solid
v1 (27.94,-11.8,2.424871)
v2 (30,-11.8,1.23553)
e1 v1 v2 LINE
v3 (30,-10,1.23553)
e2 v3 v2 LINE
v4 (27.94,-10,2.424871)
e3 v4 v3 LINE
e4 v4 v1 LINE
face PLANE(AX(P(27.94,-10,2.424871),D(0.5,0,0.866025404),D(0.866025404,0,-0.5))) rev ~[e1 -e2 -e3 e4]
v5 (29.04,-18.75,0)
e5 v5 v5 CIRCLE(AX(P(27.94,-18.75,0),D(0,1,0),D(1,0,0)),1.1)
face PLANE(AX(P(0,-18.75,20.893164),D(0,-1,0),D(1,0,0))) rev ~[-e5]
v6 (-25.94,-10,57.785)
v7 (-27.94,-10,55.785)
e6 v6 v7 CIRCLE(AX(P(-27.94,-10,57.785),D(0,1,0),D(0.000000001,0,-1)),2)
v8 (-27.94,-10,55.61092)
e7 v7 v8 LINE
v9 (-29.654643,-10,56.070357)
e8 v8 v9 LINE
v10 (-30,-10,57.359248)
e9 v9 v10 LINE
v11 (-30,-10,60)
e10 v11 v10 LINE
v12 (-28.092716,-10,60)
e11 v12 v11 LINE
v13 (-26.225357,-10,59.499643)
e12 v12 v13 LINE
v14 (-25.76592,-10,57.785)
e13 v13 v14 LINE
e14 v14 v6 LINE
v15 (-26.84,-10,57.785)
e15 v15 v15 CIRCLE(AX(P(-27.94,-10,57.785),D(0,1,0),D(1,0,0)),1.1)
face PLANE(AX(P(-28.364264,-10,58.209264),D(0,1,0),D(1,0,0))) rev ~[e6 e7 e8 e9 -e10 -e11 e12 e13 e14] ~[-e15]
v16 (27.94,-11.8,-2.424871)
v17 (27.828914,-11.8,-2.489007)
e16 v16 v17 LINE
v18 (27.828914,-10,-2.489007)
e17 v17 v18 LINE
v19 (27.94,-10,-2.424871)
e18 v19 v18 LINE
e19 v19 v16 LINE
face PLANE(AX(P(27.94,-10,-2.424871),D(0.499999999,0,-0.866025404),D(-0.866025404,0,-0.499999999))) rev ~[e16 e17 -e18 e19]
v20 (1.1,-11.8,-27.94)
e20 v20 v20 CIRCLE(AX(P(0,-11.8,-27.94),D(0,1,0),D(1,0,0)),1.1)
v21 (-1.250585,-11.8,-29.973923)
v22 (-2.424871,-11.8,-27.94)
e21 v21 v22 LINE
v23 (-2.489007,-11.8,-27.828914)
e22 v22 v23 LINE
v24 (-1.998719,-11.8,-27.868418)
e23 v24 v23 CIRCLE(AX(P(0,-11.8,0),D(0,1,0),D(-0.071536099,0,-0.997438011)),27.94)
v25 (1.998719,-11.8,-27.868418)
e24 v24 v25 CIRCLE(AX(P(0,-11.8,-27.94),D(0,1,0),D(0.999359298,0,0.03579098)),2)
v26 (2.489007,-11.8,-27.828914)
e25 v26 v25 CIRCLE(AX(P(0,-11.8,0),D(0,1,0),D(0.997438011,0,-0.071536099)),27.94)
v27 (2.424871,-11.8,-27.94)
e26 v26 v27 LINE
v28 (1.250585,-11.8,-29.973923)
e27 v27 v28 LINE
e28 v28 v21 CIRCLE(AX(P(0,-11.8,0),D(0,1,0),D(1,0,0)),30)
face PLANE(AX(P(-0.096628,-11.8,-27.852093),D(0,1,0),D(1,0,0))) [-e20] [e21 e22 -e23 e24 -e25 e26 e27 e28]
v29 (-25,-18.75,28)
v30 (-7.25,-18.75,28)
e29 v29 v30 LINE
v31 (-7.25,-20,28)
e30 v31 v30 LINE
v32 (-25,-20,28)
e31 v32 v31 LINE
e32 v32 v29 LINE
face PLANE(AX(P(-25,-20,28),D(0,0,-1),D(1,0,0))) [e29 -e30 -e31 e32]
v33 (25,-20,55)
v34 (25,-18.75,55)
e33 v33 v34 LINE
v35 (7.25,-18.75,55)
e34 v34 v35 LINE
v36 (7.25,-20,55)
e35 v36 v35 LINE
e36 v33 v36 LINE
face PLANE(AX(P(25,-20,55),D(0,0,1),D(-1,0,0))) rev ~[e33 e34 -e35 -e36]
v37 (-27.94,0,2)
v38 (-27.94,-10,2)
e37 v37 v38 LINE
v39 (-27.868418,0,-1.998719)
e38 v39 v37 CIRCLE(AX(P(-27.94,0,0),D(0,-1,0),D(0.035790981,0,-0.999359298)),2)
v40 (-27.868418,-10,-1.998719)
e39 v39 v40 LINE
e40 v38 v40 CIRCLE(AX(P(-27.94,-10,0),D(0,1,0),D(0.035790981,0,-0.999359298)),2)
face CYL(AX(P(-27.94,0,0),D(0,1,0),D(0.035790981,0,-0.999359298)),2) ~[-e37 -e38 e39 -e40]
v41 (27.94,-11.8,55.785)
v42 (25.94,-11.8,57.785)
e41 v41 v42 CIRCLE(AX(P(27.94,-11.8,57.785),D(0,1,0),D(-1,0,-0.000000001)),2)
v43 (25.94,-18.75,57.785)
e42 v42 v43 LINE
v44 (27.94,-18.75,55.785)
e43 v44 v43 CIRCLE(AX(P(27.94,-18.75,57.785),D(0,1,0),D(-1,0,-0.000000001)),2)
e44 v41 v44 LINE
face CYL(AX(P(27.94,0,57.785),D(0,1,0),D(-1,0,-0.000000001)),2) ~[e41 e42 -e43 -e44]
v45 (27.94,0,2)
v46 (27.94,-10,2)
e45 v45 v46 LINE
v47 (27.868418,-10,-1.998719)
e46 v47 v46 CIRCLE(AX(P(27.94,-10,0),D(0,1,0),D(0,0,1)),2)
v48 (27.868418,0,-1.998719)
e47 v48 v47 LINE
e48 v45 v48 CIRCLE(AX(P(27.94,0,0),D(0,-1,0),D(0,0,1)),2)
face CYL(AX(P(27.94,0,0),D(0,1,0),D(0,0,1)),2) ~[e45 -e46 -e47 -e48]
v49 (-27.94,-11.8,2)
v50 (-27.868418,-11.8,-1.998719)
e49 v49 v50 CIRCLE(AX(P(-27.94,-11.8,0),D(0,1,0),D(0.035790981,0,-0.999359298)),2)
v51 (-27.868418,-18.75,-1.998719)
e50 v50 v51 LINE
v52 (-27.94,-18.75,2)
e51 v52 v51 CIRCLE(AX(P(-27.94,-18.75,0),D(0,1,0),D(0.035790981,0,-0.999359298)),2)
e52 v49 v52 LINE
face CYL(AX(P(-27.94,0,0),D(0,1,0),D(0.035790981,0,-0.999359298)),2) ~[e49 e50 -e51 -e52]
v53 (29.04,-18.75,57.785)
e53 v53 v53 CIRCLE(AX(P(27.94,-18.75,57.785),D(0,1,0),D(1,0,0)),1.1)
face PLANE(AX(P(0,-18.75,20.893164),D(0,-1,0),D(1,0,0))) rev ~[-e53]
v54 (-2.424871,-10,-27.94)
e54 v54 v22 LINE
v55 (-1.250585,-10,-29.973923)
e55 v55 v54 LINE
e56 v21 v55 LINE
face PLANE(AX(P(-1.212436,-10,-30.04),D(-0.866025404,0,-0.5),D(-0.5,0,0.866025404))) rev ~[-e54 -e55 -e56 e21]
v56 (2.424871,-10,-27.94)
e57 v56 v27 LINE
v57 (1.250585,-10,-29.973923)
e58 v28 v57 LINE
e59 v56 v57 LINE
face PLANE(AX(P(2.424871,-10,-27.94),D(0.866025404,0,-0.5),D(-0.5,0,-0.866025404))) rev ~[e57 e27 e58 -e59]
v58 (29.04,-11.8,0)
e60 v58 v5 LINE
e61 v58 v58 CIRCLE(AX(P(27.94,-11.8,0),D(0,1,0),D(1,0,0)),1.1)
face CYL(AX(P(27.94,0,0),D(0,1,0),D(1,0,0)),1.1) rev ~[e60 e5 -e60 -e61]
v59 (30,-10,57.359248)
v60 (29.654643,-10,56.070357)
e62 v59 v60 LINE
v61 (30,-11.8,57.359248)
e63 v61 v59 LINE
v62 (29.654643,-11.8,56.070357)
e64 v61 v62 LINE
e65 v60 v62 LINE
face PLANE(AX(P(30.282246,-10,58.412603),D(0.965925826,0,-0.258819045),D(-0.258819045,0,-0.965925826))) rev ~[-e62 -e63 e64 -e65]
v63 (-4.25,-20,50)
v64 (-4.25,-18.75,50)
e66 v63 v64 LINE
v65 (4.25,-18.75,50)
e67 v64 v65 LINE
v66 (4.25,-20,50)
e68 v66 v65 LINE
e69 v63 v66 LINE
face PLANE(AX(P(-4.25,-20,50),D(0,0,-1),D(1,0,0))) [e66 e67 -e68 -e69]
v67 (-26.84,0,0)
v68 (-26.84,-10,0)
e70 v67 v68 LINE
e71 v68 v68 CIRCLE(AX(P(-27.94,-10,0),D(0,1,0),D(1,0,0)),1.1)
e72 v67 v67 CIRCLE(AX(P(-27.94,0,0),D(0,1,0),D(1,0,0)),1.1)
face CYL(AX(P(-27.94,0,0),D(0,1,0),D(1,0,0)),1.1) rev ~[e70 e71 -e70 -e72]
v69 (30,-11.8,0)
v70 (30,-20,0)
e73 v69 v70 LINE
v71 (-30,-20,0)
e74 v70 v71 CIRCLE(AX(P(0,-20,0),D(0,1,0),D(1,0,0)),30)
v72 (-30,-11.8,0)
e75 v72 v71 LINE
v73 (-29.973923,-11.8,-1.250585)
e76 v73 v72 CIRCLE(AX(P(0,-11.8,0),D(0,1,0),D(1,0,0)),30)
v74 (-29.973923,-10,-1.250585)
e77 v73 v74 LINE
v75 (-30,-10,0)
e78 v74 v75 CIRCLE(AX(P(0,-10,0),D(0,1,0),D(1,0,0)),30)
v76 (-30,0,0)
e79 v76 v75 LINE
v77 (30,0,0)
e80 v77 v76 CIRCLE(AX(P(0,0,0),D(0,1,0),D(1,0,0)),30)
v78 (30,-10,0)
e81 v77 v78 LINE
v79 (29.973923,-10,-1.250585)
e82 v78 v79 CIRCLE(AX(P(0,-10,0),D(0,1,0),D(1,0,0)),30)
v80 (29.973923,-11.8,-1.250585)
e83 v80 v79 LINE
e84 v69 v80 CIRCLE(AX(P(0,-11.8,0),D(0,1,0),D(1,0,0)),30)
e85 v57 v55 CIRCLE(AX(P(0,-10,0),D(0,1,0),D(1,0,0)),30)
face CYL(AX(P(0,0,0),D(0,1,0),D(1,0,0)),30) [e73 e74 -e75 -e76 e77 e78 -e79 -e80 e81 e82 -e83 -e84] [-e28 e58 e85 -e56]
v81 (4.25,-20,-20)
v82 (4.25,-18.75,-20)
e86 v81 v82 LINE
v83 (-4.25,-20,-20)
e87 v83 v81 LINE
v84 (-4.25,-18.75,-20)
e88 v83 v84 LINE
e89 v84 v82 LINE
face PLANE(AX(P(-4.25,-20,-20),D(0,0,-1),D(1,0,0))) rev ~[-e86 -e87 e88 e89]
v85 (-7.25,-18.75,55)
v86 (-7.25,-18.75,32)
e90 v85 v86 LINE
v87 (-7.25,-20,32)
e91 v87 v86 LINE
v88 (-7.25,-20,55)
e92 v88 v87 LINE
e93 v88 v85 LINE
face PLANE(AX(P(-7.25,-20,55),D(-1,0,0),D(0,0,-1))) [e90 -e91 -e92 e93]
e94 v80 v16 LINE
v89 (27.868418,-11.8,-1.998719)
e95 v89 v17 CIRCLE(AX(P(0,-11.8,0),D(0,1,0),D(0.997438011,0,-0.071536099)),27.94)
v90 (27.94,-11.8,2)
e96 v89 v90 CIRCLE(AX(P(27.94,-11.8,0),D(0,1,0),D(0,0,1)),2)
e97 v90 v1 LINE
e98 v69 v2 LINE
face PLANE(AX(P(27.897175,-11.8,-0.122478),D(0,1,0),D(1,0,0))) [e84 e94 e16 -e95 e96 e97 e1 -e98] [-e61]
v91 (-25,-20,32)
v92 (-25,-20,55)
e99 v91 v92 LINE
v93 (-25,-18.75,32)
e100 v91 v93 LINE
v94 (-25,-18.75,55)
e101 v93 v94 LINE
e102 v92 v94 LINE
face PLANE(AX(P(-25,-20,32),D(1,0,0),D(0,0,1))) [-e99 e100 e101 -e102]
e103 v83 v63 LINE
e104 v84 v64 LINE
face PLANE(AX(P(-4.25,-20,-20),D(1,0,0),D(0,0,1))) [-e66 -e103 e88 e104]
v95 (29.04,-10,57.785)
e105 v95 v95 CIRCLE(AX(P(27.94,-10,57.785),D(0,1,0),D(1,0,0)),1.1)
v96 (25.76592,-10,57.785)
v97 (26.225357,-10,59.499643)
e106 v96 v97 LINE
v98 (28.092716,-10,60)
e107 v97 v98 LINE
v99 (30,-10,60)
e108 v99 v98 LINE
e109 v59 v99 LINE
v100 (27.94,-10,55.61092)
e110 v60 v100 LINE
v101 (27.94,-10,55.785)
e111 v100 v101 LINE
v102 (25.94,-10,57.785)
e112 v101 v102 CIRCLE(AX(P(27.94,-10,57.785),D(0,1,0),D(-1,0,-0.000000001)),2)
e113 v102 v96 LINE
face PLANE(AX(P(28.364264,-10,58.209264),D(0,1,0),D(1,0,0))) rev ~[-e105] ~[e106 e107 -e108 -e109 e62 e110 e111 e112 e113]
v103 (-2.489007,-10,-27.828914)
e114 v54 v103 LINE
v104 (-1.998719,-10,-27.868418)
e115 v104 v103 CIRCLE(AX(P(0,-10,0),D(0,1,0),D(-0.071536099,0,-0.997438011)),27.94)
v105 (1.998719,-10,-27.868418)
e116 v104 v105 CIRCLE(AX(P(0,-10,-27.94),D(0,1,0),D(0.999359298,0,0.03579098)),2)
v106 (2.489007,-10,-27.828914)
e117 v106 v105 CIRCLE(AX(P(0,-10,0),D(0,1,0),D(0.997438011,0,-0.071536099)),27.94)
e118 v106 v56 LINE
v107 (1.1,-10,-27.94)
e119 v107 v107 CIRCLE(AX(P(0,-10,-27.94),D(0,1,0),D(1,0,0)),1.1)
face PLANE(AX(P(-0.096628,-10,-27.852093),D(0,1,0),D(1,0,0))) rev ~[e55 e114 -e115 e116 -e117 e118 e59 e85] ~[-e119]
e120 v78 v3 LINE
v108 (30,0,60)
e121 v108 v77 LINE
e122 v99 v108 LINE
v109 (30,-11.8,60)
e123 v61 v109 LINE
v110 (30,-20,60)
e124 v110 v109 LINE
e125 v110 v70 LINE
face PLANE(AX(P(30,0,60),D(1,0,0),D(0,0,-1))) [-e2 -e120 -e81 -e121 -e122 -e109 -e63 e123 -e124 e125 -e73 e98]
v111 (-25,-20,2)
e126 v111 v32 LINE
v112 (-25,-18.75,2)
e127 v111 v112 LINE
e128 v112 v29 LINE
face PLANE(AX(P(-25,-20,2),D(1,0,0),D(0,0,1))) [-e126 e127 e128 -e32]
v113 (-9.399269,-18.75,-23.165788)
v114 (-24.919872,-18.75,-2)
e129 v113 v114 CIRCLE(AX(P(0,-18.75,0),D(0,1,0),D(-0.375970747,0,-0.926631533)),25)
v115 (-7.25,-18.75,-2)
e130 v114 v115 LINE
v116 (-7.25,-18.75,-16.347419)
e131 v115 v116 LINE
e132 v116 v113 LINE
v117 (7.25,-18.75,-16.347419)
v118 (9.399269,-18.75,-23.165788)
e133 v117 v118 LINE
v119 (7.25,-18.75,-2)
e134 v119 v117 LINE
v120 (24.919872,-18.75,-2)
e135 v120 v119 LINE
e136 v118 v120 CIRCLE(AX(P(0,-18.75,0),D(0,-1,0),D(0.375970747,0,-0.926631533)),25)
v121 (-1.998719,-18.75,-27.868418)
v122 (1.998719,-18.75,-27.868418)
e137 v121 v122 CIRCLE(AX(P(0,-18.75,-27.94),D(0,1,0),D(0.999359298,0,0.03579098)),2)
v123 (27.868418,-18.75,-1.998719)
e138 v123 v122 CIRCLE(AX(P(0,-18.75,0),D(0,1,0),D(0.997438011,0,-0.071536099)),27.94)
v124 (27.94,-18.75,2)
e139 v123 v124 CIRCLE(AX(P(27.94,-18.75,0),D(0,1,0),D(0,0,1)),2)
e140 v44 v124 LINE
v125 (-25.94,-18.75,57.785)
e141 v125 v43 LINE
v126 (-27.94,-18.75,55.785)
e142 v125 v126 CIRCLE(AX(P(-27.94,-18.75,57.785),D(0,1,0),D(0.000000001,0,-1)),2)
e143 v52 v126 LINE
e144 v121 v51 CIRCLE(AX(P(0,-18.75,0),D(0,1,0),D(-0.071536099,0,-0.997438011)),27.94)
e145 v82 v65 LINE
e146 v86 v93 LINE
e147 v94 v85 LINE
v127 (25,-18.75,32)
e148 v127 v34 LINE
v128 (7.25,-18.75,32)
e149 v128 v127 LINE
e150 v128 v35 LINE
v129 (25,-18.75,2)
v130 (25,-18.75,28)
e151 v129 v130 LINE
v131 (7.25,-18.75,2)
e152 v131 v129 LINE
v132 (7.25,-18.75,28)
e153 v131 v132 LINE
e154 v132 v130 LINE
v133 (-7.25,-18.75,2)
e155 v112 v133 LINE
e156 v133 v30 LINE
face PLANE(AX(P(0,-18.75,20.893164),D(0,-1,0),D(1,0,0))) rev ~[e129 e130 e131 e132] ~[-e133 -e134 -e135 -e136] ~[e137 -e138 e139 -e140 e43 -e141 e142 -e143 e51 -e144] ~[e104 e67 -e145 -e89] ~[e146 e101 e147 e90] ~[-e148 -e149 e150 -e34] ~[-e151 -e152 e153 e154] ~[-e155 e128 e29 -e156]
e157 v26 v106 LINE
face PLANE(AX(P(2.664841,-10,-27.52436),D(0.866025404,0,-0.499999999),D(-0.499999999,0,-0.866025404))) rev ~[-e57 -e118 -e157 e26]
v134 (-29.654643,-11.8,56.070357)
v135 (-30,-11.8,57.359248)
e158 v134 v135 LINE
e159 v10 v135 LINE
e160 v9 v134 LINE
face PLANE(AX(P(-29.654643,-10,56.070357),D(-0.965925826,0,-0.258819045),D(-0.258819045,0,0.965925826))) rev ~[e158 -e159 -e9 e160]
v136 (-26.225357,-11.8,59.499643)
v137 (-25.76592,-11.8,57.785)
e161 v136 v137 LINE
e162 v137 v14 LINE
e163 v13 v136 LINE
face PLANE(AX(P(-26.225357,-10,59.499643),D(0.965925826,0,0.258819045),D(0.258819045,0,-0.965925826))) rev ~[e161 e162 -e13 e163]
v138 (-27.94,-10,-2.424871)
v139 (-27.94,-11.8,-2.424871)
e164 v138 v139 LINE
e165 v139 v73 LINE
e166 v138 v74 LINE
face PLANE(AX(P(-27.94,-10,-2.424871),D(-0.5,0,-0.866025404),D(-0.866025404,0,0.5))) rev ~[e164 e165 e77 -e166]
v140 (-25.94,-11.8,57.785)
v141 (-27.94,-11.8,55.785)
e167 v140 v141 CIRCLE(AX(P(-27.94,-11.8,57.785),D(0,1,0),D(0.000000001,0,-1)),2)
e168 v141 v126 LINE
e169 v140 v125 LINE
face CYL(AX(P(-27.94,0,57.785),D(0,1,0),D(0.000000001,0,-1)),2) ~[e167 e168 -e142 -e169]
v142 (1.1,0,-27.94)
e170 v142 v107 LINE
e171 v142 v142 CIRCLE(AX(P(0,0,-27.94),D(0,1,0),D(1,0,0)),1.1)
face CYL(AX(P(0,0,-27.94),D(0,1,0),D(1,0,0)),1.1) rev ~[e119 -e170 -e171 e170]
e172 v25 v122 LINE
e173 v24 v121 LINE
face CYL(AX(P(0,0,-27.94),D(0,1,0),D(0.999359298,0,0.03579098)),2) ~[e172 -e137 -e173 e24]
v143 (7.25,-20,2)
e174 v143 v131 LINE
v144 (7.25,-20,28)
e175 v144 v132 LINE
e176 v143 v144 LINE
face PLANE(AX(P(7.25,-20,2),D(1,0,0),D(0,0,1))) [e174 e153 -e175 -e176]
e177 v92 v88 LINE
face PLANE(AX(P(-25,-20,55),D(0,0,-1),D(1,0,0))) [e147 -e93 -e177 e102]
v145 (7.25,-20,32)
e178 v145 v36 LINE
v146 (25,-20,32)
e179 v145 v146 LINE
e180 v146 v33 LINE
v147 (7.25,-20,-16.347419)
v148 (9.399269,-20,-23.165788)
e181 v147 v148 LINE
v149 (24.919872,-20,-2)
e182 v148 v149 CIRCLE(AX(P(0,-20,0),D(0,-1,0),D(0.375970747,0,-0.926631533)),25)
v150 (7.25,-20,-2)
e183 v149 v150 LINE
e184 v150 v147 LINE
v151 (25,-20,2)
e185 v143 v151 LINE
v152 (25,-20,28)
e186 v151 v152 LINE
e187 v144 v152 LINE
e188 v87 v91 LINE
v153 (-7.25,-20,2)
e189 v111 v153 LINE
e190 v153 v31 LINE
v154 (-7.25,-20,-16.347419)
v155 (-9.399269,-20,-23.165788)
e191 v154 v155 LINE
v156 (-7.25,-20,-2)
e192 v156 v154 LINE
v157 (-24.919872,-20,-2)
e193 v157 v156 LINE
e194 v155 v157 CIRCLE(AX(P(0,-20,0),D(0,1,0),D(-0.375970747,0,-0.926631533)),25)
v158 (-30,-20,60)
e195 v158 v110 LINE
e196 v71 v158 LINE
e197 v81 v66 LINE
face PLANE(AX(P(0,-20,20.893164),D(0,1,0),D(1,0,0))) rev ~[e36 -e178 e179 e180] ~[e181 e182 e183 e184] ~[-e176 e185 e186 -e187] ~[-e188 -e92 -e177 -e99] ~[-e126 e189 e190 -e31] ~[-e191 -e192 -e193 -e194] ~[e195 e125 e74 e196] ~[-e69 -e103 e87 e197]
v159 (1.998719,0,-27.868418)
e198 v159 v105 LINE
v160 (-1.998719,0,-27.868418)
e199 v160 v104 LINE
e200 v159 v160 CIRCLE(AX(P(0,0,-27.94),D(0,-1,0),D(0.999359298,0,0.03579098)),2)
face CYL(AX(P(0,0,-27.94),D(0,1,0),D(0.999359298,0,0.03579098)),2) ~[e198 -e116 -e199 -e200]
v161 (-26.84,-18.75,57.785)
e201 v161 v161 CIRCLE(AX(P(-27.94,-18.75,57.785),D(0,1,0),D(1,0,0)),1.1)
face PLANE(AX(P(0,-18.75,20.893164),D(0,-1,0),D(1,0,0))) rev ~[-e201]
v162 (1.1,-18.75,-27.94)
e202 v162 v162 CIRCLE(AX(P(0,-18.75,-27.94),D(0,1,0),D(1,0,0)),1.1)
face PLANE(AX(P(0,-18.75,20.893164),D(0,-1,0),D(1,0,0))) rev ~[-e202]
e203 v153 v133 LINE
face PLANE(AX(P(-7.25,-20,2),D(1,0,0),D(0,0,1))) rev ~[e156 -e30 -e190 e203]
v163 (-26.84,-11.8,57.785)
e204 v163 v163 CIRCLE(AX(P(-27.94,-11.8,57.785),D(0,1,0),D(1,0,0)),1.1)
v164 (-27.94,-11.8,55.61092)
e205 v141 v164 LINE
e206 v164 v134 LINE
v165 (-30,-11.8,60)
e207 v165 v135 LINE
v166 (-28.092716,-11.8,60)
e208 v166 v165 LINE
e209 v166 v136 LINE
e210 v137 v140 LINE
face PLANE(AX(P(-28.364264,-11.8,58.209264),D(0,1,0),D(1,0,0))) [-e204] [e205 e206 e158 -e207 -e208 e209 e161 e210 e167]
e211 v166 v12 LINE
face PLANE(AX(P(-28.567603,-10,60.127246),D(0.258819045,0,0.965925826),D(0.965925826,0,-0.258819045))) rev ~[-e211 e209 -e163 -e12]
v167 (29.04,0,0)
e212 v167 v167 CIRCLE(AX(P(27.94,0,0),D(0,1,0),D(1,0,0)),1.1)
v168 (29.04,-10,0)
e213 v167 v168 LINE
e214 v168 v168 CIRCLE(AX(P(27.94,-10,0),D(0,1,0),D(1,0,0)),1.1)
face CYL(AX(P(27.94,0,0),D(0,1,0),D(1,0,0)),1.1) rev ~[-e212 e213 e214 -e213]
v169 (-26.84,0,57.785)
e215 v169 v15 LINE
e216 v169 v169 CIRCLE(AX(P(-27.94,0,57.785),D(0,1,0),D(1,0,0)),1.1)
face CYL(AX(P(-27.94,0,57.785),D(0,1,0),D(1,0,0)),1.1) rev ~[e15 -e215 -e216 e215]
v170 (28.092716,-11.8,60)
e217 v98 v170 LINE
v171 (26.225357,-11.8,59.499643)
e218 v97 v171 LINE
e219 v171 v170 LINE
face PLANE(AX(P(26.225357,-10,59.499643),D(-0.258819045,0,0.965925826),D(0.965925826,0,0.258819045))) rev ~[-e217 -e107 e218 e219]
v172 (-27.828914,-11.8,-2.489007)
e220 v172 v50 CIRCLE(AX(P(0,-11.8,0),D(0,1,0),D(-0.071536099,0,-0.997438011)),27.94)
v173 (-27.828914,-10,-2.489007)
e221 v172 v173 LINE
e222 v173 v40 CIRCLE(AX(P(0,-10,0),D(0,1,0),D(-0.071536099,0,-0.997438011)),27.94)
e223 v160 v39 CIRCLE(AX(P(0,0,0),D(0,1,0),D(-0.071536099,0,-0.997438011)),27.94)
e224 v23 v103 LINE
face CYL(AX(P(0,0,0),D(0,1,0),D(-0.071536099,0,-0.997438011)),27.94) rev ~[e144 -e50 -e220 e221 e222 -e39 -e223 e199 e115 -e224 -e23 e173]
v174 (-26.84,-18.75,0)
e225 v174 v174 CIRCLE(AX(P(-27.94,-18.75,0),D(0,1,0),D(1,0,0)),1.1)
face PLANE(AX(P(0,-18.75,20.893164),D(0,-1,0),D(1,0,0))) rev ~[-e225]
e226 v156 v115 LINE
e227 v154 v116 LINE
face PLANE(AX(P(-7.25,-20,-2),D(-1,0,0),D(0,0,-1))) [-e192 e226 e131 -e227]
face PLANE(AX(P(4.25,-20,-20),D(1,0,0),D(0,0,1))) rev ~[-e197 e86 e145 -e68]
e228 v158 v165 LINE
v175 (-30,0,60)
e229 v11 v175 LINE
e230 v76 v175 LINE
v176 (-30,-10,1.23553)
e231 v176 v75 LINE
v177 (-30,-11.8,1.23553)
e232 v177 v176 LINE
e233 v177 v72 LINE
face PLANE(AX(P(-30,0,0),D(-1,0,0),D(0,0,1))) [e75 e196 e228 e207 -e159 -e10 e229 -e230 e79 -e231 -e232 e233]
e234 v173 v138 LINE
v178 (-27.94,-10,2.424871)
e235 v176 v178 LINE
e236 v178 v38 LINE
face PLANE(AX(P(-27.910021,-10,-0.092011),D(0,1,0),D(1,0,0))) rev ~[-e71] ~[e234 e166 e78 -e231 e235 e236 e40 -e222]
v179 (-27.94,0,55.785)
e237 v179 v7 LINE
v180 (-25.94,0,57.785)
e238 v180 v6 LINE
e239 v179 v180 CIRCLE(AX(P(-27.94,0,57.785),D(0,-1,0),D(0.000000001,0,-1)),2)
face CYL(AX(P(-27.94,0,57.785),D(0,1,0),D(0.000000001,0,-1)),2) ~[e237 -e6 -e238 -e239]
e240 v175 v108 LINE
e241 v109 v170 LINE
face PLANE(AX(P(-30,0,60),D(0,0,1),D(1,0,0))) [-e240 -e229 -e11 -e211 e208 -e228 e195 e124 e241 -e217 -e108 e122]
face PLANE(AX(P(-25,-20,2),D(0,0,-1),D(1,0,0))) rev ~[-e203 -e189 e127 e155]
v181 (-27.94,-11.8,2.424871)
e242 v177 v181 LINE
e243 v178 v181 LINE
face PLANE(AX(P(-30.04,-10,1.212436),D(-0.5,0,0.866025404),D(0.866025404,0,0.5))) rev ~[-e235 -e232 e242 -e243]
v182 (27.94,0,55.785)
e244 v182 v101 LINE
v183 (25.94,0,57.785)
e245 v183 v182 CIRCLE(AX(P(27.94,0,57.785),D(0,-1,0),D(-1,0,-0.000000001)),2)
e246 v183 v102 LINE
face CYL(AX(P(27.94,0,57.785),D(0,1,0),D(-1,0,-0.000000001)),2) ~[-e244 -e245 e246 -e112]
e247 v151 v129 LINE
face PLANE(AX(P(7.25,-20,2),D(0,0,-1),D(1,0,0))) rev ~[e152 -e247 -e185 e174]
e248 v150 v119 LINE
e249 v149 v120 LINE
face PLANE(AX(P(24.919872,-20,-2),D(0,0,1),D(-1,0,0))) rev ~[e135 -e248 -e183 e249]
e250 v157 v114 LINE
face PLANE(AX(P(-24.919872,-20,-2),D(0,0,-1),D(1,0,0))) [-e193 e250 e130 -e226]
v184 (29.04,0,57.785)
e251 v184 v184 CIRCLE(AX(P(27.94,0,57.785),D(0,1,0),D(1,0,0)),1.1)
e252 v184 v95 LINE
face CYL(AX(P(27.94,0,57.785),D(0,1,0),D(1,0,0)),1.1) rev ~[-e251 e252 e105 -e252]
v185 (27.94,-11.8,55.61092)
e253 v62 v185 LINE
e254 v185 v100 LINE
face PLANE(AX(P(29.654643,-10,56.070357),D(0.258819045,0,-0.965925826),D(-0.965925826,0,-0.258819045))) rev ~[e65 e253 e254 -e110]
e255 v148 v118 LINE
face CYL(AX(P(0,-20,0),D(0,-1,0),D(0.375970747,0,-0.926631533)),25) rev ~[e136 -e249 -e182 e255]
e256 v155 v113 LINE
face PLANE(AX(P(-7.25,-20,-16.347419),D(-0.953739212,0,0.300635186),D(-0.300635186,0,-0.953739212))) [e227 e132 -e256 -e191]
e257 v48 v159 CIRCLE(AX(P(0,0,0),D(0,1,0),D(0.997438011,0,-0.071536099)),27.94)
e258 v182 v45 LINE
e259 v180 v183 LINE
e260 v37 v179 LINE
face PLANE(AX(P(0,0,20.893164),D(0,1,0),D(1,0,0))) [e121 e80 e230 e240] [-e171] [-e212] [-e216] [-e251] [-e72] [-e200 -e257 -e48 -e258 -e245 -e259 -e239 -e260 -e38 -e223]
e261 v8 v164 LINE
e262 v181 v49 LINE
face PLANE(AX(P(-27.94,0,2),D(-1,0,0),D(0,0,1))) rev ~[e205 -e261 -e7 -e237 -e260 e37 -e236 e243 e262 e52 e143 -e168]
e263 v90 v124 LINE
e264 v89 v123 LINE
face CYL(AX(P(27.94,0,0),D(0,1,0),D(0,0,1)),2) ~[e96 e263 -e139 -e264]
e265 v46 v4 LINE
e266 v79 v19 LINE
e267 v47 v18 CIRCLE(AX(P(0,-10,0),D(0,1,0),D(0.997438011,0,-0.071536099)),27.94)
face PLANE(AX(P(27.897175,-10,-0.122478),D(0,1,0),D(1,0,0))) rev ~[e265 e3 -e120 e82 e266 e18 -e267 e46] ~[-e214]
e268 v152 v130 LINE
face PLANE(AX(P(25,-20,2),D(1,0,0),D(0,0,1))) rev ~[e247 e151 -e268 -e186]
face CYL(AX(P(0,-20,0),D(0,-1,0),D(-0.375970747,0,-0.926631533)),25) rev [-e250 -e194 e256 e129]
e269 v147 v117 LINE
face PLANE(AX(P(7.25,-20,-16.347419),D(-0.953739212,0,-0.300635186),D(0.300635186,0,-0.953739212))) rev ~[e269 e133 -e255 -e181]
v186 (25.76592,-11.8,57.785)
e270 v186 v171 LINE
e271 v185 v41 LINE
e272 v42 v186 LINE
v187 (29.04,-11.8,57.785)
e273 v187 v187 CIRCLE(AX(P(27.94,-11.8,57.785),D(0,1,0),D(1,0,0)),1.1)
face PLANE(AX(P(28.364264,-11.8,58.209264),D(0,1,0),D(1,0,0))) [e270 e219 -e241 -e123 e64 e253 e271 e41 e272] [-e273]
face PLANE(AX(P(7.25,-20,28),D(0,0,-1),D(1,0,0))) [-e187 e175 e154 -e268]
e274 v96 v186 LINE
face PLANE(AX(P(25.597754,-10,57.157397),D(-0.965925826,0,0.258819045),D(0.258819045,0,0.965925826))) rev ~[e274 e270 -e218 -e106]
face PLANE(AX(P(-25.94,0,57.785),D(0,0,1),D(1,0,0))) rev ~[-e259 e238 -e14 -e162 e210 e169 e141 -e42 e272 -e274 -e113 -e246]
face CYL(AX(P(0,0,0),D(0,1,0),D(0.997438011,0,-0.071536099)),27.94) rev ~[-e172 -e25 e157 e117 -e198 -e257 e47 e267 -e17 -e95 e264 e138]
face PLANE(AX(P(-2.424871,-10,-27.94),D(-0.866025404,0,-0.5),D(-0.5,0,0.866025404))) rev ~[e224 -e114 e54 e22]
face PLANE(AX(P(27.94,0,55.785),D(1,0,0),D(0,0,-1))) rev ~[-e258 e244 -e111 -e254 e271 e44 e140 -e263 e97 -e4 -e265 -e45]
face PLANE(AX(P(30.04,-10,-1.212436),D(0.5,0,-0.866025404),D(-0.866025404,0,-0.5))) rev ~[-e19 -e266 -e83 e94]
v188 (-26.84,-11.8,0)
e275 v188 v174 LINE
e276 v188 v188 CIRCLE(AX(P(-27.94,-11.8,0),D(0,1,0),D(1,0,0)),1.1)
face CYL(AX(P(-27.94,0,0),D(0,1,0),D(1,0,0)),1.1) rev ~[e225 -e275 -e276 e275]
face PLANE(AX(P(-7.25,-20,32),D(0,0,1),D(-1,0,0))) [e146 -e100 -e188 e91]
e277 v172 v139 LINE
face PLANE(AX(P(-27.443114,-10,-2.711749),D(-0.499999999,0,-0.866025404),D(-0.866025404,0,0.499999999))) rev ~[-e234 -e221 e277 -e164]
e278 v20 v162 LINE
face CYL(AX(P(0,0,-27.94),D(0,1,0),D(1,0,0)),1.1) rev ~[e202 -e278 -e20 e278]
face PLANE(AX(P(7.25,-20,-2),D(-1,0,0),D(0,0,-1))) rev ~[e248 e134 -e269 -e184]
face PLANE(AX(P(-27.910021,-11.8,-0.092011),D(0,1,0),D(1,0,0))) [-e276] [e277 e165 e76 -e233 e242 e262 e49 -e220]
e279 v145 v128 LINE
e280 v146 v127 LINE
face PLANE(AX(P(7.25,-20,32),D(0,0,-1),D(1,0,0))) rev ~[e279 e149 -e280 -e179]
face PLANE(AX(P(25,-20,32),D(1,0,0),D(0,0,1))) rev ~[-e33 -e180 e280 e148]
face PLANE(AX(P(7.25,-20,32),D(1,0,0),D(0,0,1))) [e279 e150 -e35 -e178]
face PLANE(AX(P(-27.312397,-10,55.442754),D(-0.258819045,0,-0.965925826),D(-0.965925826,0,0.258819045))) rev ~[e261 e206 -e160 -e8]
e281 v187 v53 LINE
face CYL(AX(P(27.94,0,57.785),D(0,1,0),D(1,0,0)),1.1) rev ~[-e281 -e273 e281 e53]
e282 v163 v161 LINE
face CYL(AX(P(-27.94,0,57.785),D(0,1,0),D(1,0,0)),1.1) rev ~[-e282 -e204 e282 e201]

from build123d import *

# Parameters (mm, degrees)
SKETCH1_R           = 1.1
BOSS_EXTRUDE1_DEPTH = 20
SKETCH2_W           = 8.5
SKETCH2_H           = 70
SKETCH2_W_2         = 17.75
SKETCH2_H_2         = 26
BOSS_EXTRUDE2_DEPTH = 1.25
CUT_EXTRUDE1_START  = -10
CUT_EXTRUDE1_DEPTH  = 1.8


with BuildPart() as part:
    # Sketch1 → Boss-Extrude1 (new body)
    with BuildSketch(Plane(origin=(0, 0, 0), x_dir=(1, 0, 0), z_dir=(0, 1, 0))):
        with BuildLine():
            Line((-30, 0), (-30, -60))
            Line((-30, -60), (30, -60))
            Line((30, -60), (30, 0))
            ThreePointArc((30, 0), (0, 30), (-30, 0))
        make_face()
        with Locations((27.94, 0)):
            Circle(SKETCH1_R, mode=Mode.SUBTRACT)
        with Locations((-27.94, 0)):
            Circle(SKETCH1_R, mode=Mode.SUBTRACT)
        with Locations((0, 27.94)):
            Circle(SKETCH1_R, mode=Mode.SUBTRACT)
        with Locations((-27.94, -57.785)):
            Circle(SKETCH1_R, mode=Mode.SUBTRACT)
        with Locations((27.94, -57.785)):
            Circle(SKETCH1_R, mode=Mode.SUBTRACT)
        with BuildLine():
            Line((27.94, -55.785), (27.94, -2))
            ThreePointArc((27.94, -2), (25.940320377, -0.035796715), (27.868418039, 1.998718595))
            ThreePointArc((27.868418039, 1.998718595), (19.756563466, 19.756563466), (1.998718595, 27.868418039))
            ThreePointArc((1.998718595, 27.868418039), (0, 25.94), (-1.998718595, 27.868418039))
            ThreePointArc((-1.998718595, 27.868418039), (-19.756563466, 19.756563466), (-27.868418039, 1.998718595))
            ThreePointArc((-27.868418039, 1.998718595), (-25.940320377, -0.035796715), (-27.94, -2))
            Line((-27.94, -2), (-27.94, -55.785))
            ThreePointArc((-27.94, -55.785), (-26.525786438, -56.370786438), (-25.94, -57.785))
            Line((-25.94, -57.785), (25.94, -57.785))
            ThreePointArc((25.94, -57.785), (26.525786438, -56.370786438), (27.94, -55.785))
        make_face(mode=Mode.SUBTRACT)
    extrude(amount=-BOSS_EXTRUDE1_DEPTH)

    # Sketch2 → Boss-Extrude2 (add)
    with BuildSketch(Plane.XZ.offset(20)):
        with BuildLine():
            Line((30, 0), (30, 60))
            Line((30, 60), (-30, 60))
            Line((-30, 60), (-30, 0))
            ThreePointArc((-30, 0), (0, -30), (30, 0))
        make_face()
        Polygon((-7.25, 53), (-7.25, 32), (-25, 32), (-25, 55), (-7.25, 55), align=None, mode=Mode.SUBTRACT)
        with Locations((0, 15)):
            Rectangle(SKETCH2_W, SKETCH2_H, mode=Mode.SUBTRACT)
        Polygon((7.25, 53), (7.25, 32), (25, 32), (25, 55), (7.25, 55), align=None, mode=Mode.SUBTRACT)
        with Locations((16.125, 15)):
            Rectangle(SKETCH2_W_2, SKETCH2_H_2, mode=Mode.SUBTRACT)
        with BuildLine():
            Line((-7.25, -16.347418764), (-9.399268665, -23.165788322))
            ThreePointArc((-9.399268665, -23.165788322), (-20.160567843, -14.783487553), (-24.919871589, -2))
            Line((-24.919871589, -2), (-7.25, -2))
            Line((-7.25, -2), (-7.25, -16.347418764))
        make_face(mode=Mode.SUBTRACT)
        with BuildLine():
            Line((7.25, -16.347418764), (9.399268665, -23.165788322))
            ThreePointArc((9.399268665, -23.165788322), (20.160567843, -14.783487553), (24.919871589, -2))
            Line((24.919871589, -2), (7.25, -2))
            Line((7.25, -2), (7.25, -16.347418764))
        make_face(mode=Mode.SUBTRACT)
        with Locations((-16.125, 15)):
            Rectangle(SKETCH2_W_2, SKETCH2_H_2, mode=Mode.SUBTRACT)
    extrude(amount=-BOSS_EXTRUDE2_DEPTH)

    # Sketch3 → Cut-Extrude1 (cut)
    with BuildSketch(Plane(origin=(0, 0, 0), x_dir=(1, 0, 0), z_dir=(0, 1, 0)).offset(CUT_EXTRUDE1_START)):
        Polygon((2.424871131, 27.94), (1.212435565, 30.04), (-1.212435565, 30.04), (-2.424871131, 27.94), (-2.923440006, 27.076453377), (-1.212435565, 25.84), (1.212435565, 25.84), (2.664841123, 27.524359781), align=None)
        Polygon((27.94, -2.424871131), (30.04, -1.212435565), (30.04, 1.212435565), (27.94, 2.424871131), (27.29756517, 2.795781052), (25.84, 1.212435565), (25.84, -1.212435565), align=None)
        Polygon((30.28224565, -58.412602831), (29.65464282, -56.07035718), (27.312397169, -55.44275435), (25.59775435, -57.157397169), (26.22535718, -59.49964282), (28.567602831, -60.12724565), (30.909848481, -60.754848481), align=None)
        Polygon((-25.59775435, -57.157397169), (-27.312397169, -55.44275435), (-29.65464282, -56.07035718), (-30.28224565, -58.412602831), (-30.909848481, -60.754848481), (-28.567602831, -60.12724565), (-26.22535718, -59.49964282), align=None)
        Polygon((-30.04, 1.212435565), (-30.04, -1.212435565), (-27.94, -2.424871131), (-25.84, -1.212435565), (-25.84, 1.212435565), (-27.443113573, 2.711748643), (-27.94, 2.424871131), align=None)
    extrude(amount=-CUT_EXTRUDE1_DEPTH, mode=Mode.SUBTRACT)


solid = part.part
